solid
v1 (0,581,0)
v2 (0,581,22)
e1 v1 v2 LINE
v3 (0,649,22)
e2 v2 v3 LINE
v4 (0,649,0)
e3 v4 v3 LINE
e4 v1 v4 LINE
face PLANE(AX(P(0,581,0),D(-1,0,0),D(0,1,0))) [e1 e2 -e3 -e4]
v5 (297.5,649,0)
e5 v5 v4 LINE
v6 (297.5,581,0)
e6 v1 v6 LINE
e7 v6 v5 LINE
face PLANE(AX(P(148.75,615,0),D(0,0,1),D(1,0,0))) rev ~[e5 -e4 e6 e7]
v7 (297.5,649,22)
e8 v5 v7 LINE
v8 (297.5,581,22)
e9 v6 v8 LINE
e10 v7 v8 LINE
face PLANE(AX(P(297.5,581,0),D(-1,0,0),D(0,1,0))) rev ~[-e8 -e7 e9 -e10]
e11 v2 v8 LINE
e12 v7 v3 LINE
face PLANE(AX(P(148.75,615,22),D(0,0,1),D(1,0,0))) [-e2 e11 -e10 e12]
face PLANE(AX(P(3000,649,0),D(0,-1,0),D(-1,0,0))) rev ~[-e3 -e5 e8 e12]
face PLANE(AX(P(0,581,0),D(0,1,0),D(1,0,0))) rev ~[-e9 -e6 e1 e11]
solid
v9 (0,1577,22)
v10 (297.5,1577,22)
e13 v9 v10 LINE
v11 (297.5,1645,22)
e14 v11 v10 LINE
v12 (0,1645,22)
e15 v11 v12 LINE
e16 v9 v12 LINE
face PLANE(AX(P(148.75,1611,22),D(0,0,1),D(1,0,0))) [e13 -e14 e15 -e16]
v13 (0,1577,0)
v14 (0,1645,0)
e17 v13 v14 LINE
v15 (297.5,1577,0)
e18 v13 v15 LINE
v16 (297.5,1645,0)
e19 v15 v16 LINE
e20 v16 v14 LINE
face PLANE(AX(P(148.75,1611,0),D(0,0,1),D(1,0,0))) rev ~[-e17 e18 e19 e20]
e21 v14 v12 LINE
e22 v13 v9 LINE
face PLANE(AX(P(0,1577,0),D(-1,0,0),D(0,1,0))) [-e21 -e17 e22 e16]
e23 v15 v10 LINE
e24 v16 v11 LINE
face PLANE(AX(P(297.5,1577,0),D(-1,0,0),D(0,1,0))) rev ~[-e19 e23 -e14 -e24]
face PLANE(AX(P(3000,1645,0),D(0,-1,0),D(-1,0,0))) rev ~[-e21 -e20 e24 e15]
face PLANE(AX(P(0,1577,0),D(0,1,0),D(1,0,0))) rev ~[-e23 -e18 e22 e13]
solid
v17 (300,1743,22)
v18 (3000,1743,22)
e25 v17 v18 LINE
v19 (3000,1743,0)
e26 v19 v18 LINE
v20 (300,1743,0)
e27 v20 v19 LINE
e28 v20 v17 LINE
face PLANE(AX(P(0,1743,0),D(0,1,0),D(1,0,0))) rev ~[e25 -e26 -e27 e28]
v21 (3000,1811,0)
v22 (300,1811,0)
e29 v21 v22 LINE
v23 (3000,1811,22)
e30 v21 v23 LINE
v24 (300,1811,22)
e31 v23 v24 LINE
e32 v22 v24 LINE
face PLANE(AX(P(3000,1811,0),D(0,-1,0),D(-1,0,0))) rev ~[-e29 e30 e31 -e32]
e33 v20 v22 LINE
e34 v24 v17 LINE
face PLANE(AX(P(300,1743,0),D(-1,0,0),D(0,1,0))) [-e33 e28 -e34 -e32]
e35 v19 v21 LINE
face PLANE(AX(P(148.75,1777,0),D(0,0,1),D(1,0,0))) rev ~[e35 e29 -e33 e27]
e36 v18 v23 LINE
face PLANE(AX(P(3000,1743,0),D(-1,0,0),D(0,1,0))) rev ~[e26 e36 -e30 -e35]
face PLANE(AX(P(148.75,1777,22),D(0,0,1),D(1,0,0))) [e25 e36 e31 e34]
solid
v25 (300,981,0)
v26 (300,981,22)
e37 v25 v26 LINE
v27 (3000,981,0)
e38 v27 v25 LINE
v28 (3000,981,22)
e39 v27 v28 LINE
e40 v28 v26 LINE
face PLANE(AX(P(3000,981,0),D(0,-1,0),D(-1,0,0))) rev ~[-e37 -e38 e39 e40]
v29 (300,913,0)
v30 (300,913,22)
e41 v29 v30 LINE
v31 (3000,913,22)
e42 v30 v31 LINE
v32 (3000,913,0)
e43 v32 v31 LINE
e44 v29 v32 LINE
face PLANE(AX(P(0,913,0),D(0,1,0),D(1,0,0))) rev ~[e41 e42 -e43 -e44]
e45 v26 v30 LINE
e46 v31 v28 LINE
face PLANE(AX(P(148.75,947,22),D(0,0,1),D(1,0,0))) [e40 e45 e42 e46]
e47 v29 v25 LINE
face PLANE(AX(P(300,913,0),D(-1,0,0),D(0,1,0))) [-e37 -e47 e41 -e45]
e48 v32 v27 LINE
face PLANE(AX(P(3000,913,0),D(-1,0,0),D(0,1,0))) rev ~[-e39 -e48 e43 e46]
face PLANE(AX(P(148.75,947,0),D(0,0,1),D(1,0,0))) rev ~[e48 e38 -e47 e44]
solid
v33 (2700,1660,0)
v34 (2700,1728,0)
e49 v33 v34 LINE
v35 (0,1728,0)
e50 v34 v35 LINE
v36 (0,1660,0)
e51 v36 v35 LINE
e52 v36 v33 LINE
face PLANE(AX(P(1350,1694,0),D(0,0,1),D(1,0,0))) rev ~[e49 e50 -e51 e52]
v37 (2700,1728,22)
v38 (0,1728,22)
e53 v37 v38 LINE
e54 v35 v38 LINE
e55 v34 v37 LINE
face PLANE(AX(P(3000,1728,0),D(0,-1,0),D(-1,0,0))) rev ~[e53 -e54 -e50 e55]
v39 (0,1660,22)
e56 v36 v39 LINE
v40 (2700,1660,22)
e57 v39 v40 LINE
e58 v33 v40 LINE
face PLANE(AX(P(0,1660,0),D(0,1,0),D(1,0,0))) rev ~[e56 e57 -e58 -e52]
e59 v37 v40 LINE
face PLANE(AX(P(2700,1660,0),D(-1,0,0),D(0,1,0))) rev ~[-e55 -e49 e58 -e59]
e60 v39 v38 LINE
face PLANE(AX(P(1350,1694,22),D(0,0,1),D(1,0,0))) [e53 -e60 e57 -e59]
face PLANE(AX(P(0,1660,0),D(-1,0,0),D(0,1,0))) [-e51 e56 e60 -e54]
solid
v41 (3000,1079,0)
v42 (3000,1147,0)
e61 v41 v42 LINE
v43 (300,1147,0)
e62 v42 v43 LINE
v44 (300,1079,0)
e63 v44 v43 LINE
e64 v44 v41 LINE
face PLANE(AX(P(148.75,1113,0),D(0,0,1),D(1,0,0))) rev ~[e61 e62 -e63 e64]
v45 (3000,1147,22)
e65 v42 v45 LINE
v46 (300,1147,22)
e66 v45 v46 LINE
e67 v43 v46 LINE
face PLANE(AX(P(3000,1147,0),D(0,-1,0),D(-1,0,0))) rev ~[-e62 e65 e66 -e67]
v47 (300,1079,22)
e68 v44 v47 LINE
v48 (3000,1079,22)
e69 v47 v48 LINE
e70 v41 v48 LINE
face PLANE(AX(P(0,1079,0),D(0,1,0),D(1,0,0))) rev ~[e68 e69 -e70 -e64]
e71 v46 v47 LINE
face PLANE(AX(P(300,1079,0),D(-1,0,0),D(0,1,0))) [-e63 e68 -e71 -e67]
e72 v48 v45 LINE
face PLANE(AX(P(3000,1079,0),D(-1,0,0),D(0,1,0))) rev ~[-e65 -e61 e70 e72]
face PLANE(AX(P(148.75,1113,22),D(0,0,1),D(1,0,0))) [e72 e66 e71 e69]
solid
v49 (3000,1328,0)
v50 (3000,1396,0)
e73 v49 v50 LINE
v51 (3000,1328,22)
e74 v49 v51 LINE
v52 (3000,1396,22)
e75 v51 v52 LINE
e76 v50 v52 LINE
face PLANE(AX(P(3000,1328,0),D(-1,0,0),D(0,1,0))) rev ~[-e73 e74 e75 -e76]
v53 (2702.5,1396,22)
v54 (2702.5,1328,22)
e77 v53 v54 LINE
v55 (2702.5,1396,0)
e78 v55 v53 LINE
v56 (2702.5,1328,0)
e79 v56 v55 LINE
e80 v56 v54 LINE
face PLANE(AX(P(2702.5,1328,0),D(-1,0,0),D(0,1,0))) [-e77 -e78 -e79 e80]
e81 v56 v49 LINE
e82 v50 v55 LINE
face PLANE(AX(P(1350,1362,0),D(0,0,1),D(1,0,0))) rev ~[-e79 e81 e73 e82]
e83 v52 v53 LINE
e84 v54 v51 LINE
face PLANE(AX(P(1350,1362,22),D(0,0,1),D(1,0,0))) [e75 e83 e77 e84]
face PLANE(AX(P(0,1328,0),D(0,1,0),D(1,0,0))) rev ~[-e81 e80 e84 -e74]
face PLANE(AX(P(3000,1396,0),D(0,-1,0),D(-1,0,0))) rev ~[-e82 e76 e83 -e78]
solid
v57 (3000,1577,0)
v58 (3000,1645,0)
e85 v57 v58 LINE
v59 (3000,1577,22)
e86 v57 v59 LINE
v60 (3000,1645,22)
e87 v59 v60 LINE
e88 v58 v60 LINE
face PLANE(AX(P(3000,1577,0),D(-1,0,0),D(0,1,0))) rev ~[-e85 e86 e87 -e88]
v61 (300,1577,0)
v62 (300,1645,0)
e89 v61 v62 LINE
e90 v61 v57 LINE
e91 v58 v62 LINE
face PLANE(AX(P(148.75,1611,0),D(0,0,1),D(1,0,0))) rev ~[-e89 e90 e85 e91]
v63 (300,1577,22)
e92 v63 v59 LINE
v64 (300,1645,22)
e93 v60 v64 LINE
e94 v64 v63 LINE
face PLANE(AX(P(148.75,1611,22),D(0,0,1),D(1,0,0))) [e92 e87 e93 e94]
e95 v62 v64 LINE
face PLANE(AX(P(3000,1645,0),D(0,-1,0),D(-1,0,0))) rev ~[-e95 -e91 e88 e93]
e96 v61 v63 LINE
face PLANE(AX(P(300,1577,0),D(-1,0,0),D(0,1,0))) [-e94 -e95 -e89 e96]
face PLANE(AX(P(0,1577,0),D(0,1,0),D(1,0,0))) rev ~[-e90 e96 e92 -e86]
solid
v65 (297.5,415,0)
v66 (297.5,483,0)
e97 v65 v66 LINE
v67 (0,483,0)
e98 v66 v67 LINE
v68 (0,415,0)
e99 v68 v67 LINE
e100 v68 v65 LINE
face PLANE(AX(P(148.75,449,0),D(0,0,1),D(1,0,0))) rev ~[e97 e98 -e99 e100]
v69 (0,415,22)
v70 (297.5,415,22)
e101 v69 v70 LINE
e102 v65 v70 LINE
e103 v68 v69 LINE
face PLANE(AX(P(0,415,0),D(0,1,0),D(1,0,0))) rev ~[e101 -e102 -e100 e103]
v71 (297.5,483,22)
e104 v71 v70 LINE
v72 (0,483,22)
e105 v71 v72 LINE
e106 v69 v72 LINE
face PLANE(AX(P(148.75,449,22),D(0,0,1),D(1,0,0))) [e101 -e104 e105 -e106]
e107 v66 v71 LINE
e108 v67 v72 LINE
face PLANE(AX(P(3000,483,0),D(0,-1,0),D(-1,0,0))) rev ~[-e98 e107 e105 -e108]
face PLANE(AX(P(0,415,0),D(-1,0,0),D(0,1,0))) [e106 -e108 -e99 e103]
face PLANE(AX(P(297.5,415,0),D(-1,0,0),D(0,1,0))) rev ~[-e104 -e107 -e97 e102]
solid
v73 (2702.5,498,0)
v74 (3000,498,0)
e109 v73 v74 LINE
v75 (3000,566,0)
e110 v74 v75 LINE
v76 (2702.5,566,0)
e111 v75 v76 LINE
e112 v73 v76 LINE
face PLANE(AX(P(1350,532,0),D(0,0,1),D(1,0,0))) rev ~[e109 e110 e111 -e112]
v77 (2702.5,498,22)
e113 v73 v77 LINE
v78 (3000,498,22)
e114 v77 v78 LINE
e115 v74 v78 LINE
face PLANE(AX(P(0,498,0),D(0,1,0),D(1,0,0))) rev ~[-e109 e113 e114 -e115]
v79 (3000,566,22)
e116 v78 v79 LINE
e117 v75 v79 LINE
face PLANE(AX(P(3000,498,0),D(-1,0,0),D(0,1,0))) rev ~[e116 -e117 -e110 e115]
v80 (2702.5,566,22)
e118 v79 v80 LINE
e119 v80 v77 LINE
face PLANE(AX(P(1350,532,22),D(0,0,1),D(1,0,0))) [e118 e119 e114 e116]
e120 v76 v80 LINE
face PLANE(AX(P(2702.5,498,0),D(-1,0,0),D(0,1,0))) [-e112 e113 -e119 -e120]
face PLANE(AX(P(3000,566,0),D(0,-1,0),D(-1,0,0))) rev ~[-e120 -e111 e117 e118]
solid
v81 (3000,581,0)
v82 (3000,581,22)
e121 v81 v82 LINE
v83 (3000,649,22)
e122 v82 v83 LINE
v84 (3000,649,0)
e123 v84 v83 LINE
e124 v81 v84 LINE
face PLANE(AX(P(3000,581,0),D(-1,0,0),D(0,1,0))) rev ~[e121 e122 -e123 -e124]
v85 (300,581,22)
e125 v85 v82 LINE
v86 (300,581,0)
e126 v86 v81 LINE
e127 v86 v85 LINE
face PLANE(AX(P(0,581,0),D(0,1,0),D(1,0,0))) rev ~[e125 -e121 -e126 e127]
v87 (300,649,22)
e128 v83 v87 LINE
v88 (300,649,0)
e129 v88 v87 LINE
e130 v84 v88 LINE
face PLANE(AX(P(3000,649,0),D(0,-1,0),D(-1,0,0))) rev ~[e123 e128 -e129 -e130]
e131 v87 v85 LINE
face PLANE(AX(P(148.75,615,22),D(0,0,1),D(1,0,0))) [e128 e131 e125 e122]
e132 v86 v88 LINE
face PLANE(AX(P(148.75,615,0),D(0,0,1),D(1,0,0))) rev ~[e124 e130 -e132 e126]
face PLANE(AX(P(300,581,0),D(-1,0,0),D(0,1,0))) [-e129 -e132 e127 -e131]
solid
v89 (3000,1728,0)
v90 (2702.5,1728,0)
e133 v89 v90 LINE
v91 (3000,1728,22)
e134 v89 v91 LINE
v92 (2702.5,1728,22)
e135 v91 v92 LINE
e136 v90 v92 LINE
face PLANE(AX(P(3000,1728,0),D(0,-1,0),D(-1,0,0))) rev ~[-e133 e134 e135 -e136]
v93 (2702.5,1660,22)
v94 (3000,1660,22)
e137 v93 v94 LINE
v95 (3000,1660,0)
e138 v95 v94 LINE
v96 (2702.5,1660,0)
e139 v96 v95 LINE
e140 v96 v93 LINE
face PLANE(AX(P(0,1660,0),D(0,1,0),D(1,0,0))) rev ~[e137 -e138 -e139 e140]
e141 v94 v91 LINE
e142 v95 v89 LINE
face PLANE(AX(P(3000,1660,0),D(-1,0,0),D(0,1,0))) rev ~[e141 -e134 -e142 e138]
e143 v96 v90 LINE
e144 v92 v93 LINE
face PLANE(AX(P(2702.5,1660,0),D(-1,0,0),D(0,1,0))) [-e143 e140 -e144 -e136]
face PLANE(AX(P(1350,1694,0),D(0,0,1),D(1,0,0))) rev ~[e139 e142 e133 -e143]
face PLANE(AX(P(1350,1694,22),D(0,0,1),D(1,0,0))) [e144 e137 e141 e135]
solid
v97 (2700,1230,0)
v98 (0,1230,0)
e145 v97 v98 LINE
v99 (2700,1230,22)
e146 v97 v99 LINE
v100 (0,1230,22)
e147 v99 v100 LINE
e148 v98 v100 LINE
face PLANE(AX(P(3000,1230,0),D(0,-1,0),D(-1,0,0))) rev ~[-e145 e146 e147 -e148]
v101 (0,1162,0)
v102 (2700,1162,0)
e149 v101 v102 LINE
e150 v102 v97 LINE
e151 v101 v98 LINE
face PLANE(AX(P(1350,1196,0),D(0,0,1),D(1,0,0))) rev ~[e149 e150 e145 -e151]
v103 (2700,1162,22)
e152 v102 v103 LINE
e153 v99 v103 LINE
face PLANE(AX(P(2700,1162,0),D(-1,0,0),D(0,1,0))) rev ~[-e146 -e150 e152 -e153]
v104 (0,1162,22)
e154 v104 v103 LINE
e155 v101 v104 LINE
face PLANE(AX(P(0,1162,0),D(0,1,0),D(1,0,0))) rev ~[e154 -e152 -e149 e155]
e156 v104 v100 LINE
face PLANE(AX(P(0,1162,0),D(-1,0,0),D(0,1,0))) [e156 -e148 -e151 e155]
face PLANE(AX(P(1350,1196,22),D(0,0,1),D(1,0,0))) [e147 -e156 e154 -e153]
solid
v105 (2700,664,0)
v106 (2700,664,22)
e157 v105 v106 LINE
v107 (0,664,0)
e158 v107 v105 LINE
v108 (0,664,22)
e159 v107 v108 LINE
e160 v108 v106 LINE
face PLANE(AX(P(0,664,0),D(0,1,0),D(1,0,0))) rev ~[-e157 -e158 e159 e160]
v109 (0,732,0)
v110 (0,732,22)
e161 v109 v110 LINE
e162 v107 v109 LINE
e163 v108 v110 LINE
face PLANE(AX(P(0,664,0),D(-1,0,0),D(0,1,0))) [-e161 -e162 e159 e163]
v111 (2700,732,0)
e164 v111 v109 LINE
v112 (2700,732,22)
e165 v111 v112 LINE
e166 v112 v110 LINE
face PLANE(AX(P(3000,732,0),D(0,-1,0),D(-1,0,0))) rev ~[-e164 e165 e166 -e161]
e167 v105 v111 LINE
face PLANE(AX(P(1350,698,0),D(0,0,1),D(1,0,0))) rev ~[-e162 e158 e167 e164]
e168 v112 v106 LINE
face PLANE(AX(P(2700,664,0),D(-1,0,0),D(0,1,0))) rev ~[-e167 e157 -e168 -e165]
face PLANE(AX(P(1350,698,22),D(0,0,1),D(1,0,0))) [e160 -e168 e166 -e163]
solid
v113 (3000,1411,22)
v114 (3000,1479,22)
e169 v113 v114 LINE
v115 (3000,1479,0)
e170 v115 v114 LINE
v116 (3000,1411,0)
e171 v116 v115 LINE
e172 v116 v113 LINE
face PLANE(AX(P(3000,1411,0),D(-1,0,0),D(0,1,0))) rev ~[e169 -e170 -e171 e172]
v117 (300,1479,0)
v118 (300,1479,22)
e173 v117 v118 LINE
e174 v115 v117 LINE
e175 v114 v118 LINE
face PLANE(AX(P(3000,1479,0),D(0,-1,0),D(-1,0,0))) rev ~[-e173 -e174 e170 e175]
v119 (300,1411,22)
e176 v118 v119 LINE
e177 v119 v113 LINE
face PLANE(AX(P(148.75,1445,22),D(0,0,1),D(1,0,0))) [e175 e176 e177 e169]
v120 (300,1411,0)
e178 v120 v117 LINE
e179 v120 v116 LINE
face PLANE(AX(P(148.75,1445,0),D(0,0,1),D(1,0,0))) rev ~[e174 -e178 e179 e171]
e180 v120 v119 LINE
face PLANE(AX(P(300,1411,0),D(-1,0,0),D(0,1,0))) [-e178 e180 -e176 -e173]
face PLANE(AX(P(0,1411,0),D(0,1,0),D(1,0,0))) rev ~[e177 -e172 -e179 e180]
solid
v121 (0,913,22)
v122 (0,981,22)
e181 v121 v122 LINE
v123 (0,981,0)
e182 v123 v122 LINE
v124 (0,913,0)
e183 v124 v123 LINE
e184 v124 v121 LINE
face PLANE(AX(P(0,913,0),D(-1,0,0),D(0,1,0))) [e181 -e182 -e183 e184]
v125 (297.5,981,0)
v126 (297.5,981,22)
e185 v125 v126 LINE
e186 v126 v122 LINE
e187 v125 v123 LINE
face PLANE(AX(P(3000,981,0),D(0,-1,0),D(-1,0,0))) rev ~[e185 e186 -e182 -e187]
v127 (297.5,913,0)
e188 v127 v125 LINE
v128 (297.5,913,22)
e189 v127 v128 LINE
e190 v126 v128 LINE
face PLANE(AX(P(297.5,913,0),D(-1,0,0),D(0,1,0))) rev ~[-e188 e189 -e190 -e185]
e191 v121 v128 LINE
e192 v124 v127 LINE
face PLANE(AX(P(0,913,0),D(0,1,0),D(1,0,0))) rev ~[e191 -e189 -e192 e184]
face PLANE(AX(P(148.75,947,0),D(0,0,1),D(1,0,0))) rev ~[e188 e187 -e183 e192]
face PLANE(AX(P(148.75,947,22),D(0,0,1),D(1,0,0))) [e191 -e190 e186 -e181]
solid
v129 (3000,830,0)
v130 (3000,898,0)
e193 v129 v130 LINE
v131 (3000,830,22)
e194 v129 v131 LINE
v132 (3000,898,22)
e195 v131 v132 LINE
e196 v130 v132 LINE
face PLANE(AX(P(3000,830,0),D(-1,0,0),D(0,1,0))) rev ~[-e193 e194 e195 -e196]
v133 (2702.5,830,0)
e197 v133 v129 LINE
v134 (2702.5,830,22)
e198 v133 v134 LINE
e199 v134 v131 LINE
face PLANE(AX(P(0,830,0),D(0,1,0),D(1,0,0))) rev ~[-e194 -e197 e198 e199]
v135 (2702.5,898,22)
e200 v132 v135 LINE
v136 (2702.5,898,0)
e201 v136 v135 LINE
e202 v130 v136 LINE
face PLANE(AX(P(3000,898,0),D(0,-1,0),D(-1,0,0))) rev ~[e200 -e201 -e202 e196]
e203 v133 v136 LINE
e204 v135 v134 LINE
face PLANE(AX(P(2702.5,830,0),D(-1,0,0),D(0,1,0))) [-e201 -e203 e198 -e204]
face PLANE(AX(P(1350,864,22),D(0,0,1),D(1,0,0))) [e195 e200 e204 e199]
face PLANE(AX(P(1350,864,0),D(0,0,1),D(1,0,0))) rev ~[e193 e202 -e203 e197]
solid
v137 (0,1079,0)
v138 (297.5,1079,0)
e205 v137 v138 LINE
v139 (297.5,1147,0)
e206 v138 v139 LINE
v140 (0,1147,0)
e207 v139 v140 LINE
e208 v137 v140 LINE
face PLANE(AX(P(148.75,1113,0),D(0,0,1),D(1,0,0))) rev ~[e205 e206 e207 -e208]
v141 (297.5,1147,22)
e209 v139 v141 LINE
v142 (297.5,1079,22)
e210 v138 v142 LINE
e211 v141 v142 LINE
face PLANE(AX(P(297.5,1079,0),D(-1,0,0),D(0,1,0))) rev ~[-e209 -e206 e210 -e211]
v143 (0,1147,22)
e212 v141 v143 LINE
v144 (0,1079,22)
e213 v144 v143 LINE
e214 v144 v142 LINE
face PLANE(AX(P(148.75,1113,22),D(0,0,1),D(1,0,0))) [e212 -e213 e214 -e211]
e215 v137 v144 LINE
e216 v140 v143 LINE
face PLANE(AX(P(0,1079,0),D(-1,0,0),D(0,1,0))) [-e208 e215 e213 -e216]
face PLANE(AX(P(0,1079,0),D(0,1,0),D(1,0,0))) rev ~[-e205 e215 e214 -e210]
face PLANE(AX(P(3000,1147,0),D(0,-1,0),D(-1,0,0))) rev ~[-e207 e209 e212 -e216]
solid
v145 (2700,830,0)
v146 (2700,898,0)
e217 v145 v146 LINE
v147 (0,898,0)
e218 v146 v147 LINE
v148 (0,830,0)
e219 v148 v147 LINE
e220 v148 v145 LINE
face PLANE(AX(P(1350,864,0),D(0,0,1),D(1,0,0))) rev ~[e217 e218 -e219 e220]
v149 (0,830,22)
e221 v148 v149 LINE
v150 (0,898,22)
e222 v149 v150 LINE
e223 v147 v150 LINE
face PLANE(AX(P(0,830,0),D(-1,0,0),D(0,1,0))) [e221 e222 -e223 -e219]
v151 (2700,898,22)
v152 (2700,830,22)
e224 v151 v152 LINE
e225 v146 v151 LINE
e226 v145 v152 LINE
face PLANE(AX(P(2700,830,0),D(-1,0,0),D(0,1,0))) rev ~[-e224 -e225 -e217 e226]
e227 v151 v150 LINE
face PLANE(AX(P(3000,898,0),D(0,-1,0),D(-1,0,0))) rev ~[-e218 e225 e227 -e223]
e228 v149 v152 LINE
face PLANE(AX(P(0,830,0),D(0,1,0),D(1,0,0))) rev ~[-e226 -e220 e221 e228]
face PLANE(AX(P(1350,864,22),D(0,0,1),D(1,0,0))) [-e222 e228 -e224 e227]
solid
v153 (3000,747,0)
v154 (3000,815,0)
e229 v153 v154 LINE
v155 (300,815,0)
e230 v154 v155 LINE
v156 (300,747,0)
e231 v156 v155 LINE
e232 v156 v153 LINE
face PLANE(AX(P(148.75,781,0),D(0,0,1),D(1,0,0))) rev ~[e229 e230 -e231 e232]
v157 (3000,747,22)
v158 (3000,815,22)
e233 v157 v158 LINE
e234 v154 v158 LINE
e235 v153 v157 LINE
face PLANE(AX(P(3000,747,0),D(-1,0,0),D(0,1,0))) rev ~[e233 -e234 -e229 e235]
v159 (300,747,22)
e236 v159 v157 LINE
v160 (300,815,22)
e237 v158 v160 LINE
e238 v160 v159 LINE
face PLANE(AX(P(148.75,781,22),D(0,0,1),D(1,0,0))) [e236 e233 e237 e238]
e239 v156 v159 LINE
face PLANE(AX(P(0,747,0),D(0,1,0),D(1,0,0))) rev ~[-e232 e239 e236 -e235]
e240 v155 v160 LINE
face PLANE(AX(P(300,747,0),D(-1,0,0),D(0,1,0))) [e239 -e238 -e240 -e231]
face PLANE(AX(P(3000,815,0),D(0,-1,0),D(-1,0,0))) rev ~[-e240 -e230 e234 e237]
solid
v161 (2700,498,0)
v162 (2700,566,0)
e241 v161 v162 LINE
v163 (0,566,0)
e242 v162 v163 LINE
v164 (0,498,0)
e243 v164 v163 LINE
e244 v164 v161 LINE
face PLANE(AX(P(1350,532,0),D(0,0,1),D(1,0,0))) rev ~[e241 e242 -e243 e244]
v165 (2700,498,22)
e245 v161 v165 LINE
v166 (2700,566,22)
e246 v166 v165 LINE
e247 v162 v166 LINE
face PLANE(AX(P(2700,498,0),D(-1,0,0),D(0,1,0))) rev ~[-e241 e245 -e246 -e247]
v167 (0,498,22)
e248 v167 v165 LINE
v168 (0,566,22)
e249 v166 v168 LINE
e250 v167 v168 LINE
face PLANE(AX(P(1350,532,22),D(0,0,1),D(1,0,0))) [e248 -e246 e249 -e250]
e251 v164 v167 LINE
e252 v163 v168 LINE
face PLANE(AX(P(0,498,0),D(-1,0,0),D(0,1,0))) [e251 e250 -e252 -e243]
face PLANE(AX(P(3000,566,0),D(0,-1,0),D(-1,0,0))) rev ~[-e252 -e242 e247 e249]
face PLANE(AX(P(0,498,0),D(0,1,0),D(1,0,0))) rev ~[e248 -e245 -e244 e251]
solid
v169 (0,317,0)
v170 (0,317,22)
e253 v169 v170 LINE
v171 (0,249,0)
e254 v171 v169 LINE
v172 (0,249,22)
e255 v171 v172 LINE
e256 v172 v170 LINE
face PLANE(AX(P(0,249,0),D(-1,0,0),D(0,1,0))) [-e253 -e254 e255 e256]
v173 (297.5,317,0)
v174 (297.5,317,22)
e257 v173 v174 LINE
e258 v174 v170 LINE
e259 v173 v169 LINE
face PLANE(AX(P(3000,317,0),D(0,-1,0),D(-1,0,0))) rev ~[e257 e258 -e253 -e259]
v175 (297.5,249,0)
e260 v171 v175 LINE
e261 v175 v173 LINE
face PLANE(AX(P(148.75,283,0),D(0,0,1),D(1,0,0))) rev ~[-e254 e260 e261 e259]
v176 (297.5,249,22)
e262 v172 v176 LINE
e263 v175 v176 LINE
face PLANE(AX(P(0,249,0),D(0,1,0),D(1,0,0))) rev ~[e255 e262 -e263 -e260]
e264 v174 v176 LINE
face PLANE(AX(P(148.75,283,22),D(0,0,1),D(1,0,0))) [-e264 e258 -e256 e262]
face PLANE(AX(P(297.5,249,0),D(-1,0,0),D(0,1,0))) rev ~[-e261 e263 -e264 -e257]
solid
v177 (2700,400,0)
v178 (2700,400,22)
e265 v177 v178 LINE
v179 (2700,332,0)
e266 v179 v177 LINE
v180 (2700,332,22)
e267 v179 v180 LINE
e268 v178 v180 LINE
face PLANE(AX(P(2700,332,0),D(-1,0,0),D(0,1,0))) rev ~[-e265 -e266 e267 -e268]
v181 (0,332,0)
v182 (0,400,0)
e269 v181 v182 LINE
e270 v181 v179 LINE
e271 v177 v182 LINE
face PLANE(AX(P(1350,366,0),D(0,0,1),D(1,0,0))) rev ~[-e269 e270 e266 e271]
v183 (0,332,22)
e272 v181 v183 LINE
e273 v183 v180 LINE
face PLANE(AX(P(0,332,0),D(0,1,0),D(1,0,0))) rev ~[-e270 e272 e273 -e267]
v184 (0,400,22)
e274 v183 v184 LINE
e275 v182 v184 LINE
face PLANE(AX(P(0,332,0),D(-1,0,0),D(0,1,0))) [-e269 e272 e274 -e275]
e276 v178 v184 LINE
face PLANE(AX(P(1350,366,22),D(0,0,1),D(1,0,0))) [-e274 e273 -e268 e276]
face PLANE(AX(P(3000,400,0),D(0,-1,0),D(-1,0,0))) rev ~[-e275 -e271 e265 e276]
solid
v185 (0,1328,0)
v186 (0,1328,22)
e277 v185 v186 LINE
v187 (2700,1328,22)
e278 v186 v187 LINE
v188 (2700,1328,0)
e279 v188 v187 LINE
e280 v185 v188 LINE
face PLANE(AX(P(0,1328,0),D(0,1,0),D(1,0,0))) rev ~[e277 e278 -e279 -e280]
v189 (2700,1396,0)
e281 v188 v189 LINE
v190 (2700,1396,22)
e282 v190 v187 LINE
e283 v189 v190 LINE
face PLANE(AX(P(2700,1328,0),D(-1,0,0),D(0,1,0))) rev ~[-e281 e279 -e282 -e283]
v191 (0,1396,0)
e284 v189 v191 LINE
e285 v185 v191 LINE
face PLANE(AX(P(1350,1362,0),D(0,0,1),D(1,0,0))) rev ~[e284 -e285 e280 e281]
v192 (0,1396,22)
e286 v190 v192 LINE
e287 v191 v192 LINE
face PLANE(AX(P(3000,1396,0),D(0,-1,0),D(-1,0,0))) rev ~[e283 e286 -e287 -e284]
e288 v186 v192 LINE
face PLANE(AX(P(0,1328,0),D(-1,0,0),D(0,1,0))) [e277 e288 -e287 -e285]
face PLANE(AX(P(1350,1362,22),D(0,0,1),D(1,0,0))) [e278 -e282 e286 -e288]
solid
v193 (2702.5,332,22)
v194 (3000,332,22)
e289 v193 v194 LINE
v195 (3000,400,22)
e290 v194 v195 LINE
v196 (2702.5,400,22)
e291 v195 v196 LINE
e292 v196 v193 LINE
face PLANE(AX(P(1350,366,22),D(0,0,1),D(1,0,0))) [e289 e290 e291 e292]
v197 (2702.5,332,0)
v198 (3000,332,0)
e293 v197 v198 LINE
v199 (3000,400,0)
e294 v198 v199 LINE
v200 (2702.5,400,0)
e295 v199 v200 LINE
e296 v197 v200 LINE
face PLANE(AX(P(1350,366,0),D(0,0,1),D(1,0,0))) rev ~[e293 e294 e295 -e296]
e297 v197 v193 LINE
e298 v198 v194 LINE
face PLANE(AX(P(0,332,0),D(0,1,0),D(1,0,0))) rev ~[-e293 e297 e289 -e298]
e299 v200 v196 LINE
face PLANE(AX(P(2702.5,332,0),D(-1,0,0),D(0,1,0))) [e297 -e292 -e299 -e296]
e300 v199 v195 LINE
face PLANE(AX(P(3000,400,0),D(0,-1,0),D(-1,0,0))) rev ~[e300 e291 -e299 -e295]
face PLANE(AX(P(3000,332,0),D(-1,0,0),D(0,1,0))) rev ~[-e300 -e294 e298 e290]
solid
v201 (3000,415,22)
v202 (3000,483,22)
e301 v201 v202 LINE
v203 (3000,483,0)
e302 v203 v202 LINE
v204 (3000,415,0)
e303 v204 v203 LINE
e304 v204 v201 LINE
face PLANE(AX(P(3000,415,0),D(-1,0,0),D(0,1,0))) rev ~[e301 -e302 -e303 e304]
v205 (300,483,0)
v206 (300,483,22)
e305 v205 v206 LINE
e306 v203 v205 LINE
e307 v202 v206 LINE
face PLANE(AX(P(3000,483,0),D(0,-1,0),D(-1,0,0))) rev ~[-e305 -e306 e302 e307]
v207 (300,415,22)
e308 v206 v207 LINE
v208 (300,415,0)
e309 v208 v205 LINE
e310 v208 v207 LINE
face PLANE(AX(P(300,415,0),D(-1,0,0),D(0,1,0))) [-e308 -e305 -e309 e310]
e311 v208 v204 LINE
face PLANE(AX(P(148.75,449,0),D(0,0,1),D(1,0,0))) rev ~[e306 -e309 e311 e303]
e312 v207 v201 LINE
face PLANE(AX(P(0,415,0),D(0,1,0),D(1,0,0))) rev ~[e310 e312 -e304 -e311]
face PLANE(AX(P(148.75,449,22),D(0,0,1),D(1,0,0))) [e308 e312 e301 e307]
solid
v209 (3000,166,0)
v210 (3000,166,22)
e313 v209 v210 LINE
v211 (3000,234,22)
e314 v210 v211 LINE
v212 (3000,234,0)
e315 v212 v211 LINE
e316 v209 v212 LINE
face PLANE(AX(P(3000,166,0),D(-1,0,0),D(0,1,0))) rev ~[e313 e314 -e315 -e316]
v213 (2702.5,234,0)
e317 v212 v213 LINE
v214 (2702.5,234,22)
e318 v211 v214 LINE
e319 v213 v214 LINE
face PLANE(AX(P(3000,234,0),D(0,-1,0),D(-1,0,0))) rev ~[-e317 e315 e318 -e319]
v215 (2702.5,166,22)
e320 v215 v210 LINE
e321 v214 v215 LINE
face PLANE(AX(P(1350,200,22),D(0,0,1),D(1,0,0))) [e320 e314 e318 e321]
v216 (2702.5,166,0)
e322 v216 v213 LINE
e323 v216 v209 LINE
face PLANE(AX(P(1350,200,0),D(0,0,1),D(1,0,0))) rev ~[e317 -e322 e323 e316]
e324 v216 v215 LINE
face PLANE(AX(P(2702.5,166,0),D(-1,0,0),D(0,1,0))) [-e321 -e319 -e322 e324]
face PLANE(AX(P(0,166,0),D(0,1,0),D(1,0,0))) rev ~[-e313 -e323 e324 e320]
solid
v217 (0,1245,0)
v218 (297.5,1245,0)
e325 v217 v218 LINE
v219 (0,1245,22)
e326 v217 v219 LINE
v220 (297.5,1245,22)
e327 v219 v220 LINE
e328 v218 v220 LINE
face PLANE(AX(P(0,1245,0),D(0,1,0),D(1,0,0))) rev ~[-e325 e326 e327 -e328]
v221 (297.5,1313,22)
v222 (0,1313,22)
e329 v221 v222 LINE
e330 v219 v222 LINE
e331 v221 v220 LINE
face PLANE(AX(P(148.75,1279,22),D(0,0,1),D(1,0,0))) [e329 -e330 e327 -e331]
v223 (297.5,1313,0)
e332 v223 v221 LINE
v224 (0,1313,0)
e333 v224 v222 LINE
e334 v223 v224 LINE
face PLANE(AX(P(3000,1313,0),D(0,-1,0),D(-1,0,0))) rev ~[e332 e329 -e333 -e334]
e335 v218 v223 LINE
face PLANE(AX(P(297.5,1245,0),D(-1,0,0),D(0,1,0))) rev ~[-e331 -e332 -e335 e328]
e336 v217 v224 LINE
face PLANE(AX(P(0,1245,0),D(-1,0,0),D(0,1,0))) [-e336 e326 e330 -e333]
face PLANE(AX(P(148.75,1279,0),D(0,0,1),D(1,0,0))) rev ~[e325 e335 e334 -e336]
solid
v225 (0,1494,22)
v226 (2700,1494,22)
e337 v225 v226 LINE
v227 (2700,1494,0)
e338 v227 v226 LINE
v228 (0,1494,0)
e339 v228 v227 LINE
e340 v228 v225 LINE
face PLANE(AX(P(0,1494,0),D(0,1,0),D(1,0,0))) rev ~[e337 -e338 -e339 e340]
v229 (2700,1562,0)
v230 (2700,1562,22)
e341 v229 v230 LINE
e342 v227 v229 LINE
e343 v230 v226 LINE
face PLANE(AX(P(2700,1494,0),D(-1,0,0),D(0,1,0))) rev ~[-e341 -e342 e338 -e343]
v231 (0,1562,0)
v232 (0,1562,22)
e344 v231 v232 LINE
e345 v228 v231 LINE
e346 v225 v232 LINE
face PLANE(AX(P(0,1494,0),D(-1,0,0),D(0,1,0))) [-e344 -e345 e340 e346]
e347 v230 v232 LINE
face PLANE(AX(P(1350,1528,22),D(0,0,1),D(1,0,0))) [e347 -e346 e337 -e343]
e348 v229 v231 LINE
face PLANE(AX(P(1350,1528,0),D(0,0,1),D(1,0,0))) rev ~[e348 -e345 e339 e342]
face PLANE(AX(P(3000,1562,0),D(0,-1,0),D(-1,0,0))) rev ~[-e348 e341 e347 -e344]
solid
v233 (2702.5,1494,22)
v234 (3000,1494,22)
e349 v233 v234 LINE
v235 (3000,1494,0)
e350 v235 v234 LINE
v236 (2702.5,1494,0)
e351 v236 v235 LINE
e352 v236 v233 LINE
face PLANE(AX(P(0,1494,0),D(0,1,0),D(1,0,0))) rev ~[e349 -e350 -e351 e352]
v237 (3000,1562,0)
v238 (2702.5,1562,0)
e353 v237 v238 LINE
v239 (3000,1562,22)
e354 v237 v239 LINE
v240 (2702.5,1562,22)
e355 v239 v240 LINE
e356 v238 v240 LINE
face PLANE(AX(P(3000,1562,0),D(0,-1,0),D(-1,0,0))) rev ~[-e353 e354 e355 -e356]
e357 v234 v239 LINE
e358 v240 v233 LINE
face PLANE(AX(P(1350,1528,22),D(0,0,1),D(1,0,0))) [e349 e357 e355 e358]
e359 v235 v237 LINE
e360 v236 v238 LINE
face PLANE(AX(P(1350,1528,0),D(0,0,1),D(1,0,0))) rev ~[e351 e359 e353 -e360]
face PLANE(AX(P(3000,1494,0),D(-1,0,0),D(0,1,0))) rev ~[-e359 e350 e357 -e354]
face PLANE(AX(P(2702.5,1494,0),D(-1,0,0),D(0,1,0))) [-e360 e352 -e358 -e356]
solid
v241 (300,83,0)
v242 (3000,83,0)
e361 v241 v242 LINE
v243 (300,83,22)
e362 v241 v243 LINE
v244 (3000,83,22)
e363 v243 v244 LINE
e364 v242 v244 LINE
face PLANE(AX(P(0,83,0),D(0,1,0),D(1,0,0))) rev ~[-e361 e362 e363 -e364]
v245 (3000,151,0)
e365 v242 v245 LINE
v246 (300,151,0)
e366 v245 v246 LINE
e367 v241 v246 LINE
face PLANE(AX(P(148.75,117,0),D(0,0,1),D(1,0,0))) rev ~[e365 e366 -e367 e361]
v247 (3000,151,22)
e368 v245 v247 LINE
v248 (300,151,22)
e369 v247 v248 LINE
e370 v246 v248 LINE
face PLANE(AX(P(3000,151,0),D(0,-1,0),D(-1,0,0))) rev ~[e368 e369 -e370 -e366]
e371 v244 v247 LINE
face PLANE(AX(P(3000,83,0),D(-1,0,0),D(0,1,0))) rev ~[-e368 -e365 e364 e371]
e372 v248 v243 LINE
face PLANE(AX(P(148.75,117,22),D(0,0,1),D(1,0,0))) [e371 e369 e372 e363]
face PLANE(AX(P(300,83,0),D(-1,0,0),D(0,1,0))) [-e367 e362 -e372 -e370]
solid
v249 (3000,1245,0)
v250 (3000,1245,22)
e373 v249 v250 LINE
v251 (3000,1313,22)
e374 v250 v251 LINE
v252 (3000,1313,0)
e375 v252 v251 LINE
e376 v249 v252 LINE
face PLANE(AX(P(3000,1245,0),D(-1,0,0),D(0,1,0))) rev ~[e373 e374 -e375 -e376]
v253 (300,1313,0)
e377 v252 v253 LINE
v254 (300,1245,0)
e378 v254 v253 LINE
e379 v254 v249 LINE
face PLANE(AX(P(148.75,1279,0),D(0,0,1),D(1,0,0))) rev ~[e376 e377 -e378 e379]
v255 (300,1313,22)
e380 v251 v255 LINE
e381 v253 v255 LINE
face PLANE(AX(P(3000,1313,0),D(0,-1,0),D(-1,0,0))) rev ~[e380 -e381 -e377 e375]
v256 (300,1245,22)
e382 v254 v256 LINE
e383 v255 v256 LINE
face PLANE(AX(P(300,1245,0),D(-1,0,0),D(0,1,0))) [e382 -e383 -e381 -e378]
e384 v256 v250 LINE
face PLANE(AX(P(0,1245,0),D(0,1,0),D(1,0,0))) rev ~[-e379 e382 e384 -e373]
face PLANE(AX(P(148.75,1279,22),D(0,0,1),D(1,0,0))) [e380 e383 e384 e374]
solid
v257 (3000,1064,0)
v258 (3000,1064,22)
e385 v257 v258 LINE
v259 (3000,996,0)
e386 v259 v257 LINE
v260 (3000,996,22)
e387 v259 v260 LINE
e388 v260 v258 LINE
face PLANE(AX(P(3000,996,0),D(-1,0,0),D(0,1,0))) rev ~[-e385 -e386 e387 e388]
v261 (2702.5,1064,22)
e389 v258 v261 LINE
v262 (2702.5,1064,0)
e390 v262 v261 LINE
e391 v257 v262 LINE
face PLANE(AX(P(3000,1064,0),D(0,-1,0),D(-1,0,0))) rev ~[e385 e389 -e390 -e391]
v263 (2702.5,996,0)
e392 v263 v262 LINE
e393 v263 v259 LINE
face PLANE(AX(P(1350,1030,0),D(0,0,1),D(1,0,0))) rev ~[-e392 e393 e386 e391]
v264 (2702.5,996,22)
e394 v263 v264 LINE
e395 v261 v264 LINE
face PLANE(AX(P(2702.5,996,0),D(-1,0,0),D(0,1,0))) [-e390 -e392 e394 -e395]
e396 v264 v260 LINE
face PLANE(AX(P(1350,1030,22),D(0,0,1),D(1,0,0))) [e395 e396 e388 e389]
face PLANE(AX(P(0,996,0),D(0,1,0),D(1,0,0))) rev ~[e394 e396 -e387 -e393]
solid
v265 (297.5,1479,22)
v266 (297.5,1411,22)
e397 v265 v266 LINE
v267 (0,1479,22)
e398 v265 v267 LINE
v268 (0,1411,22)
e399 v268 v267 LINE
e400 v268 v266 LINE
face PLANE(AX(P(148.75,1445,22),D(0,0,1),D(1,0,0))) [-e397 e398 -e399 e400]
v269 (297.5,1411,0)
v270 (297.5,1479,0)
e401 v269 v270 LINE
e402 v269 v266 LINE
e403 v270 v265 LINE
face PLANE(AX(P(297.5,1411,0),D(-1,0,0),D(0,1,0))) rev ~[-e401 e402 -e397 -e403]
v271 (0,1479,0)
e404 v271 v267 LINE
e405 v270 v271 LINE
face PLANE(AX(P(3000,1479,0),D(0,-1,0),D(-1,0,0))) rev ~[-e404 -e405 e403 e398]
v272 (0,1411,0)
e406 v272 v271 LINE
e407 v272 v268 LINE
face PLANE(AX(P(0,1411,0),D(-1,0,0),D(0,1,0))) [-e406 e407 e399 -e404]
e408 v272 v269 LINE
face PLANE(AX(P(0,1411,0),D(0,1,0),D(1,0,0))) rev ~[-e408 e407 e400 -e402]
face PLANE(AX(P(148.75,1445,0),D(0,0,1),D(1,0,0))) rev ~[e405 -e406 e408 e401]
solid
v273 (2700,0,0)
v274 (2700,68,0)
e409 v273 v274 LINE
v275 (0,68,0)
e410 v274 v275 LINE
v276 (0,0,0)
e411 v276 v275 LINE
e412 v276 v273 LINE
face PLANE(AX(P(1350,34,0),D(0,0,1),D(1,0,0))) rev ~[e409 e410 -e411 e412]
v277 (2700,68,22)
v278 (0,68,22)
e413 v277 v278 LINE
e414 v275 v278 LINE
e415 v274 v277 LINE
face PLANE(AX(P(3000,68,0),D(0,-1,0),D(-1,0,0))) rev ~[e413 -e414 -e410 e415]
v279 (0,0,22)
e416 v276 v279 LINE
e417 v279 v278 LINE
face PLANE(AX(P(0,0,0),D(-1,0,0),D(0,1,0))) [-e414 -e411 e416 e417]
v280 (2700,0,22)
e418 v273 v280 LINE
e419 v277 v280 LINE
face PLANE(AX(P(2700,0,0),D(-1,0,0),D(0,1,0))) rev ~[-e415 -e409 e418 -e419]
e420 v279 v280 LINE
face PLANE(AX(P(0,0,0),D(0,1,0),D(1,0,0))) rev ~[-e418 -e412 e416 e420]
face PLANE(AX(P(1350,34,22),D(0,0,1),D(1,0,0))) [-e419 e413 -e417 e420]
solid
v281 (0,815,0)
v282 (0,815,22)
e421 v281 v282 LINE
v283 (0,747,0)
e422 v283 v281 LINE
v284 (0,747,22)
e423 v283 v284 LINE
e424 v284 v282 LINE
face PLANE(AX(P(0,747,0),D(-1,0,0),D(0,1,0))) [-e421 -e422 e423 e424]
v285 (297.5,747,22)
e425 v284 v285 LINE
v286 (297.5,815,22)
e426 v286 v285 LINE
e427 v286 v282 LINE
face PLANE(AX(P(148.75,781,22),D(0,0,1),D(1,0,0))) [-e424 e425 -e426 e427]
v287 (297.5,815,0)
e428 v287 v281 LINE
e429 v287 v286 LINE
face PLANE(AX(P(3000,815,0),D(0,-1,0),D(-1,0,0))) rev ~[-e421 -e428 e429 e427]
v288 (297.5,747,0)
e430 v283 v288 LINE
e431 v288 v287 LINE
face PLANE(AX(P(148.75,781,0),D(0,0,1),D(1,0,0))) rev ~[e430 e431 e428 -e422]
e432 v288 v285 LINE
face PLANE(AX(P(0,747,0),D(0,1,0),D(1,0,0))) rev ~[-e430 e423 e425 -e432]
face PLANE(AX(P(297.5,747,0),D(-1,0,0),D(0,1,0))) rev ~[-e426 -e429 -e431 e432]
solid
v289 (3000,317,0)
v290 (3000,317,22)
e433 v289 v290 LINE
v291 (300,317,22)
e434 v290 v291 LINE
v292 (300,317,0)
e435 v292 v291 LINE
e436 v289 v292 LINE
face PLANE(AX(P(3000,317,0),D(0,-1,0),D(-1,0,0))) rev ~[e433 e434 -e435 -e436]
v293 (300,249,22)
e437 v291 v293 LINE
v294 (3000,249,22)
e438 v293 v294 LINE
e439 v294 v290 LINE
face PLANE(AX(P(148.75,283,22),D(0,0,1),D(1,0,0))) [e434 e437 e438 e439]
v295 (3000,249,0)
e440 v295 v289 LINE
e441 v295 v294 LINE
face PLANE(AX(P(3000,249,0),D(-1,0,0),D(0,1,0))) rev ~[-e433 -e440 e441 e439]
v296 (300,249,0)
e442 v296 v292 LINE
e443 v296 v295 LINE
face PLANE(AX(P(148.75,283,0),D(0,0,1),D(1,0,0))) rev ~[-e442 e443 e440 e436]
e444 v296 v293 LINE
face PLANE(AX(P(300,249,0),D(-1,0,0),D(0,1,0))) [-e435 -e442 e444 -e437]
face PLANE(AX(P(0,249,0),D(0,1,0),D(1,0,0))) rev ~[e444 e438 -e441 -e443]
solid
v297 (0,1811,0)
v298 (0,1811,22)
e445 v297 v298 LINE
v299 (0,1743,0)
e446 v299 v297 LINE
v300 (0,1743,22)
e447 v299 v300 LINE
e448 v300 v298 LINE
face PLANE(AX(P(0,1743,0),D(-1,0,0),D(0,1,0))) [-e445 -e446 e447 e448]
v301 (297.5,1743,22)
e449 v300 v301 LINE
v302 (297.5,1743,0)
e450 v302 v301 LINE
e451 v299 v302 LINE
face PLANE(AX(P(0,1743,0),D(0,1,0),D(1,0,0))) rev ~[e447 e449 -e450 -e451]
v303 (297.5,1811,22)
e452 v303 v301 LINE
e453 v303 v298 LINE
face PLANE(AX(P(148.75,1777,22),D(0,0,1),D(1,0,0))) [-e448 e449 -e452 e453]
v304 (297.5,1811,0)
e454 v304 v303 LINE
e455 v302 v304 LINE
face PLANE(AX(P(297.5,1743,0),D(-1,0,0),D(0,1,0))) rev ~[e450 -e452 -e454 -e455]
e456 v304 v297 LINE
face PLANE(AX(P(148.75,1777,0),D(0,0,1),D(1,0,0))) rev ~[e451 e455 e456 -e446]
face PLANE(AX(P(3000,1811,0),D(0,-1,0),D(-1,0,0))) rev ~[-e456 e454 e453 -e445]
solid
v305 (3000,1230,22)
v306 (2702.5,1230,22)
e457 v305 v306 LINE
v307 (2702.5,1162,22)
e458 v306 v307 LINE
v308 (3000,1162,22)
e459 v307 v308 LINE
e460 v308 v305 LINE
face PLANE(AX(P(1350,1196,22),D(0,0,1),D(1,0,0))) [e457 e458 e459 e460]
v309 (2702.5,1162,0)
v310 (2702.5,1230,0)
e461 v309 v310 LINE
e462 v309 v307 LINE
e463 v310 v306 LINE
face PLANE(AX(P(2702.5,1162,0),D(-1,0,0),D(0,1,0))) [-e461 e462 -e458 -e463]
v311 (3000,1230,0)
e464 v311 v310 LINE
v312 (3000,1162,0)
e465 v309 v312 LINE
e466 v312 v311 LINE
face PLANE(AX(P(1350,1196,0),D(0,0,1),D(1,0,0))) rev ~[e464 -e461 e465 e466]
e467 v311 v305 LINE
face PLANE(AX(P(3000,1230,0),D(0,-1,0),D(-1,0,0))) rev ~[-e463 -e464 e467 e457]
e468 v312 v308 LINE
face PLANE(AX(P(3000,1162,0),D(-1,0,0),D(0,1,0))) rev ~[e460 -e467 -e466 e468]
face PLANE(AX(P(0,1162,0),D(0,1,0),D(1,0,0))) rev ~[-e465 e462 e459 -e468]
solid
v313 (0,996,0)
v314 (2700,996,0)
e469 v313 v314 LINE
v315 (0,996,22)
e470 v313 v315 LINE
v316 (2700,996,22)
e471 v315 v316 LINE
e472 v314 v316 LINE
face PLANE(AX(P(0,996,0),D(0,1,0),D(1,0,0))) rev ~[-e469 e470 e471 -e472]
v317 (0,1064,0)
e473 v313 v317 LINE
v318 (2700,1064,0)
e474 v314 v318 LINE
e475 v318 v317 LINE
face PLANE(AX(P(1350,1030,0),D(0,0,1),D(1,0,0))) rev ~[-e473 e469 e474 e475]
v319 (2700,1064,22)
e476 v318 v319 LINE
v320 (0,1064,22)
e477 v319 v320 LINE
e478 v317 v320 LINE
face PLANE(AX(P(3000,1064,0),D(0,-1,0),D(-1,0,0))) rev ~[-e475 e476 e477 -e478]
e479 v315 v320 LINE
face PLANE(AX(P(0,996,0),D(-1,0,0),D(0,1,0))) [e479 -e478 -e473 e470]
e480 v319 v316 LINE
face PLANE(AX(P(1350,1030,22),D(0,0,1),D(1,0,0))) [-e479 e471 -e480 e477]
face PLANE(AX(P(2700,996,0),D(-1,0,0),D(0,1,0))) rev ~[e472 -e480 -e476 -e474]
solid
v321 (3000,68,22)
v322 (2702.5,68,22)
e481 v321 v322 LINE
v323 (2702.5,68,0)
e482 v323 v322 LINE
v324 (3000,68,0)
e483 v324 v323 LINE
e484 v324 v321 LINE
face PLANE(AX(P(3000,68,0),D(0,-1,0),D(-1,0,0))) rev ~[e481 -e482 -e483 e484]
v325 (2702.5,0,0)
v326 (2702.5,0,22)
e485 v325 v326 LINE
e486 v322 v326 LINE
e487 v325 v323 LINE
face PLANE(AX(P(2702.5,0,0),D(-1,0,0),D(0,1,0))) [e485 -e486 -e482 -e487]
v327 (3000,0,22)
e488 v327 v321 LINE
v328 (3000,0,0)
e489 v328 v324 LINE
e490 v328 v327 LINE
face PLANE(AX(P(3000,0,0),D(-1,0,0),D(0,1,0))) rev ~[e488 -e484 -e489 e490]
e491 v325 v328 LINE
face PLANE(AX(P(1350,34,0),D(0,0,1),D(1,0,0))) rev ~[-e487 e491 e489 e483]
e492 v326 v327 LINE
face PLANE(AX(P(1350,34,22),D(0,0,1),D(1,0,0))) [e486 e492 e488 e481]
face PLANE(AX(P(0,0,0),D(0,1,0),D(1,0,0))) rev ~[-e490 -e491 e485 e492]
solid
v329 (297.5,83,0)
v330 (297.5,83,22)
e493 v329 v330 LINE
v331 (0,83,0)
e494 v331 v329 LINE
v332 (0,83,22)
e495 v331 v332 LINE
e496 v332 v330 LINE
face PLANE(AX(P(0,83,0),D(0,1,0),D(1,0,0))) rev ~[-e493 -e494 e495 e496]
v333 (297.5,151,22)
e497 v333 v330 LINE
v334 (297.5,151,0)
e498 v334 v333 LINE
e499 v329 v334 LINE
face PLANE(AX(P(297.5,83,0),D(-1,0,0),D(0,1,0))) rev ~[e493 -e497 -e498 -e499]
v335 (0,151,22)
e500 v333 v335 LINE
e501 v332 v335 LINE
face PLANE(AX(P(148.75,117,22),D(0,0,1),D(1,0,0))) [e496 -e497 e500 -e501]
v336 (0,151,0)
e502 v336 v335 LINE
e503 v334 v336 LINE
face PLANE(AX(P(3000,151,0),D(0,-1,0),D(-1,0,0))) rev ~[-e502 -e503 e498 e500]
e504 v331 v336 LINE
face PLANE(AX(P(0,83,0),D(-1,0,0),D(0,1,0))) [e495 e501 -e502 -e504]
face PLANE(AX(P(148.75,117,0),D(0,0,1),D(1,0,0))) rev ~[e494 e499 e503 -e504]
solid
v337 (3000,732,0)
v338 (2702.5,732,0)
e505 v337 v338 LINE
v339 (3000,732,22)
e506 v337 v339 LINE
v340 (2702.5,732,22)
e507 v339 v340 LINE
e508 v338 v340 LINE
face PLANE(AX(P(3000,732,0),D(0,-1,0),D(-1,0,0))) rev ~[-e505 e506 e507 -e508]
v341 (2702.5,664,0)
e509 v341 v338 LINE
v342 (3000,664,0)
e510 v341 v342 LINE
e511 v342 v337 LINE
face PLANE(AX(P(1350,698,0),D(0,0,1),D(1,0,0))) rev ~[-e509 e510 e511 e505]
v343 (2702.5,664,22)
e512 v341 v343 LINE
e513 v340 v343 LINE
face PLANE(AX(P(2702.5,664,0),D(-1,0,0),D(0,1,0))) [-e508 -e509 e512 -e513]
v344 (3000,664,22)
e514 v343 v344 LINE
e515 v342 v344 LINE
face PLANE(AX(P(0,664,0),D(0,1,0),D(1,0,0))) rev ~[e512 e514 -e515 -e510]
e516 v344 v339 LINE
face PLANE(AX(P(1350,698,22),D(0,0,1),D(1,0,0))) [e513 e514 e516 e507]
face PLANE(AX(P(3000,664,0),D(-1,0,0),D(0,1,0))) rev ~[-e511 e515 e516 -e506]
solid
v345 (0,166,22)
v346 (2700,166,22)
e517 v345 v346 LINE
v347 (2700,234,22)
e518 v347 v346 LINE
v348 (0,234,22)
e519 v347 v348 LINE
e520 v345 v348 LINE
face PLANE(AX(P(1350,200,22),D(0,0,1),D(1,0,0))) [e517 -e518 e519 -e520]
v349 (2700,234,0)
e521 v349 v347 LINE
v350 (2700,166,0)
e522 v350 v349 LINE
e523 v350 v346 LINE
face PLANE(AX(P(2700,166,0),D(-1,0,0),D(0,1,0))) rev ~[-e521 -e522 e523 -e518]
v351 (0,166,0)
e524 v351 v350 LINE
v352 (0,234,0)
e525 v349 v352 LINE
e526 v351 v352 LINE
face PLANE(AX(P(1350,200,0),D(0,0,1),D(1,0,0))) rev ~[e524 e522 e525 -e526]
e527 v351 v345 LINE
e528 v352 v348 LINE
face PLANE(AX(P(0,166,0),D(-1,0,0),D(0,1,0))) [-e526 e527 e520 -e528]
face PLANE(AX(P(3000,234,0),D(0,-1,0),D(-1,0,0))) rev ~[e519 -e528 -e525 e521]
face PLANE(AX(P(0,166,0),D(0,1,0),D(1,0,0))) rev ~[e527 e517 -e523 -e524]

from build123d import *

# Parameters (mm, degrees)
F0_W     = 2700
F0_H     = 68
F0_W_2   = 2.5
F0_W_3   = 297.5
F1_DEPTH = 22
F2_DEPTH = 25


with BuildPart() as f1:
    # F0 (on Top) → F1 (new body)
    with BuildSketch(Plane.XY):
        with Locations((1350, 34)):
            Rectangle(F0_W, F0_H)
        with Locations((2701.25, 34)):
            Rectangle(F0_W_2, F0_H)
        with Locations((2851.25, 34)):
            Rectangle(F0_W_3, F0_H)
        with Locations((148.75, 117)):
            Rectangle(F0_W_3, F0_H)
        with Locations((298.75, 117)):
            Rectangle(F0_W_2, F0_H)
        with Locations((1650, 117)):
            Rectangle(F0_W, F0_H)
        with Locations((148.75, 283)):
            Rectangle(F0_W_3, F0_H)
        with Locations((298.75, 283)):
            Rectangle(F0_W_2, F0_H)
        with Locations((1650, 283)):
            Rectangle(F0_W, F0_H)
        with Locations((1350, 200)):
            Rectangle(F0_W, F0_H)
        with Locations((2701.25, 200)):
            Rectangle(F0_W_2, F0_H)
        with Locations((2851.25, 200)):
            Rectangle(F0_W_3, F0_H)
        with Locations((148.75, 449)):
            Rectangle(F0_W_3, F0_H)
        with Locations((298.75, 449)):
            Rectangle(F0_W_2, F0_H)
        with Locations((1650, 449)):
            Rectangle(F0_W, F0_H)
        with Locations((1350, 366)):
            Rectangle(F0_W, F0_H)
        with Locations((2701.25, 366)):
            Rectangle(F0_W_2, F0_H)
        with Locations((2851.25, 366)):
            Rectangle(F0_W_3, F0_H)
        with Locations((148.75, 615)):
            Rectangle(F0_W_3, F0_H)
        with Locations((298.75, 615)):
            Rectangle(F0_W_2, F0_H)
        with Locations((1650, 615)):
            Rectangle(F0_W, F0_H)
        with Locations((1350, 532)):
            Rectangle(F0_W, F0_H)
        with Locations((2701.25, 532)):
            Rectangle(F0_W_2, F0_H)
        with Locations((2851.25, 532)):
            Rectangle(F0_W_3, F0_H)
        with Locations((148.75, 781)):
            Rectangle(F0_W_3, F0_H)
        with Locations((298.75, 781)):
            Rectangle(F0_W_2, F0_H)
        with Locations((1650, 781)):
            Rectangle(F0_W, F0_H)
        with Locations((1350, 698)):
            Rectangle(F0_W, F0_H)
        with Locations((2701.25, 698)):
            Rectangle(F0_W_2, F0_H)
        with Locations((2851.25, 698)):
            Rectangle(F0_W_3, F0_H)
        with Locations((148.75, 947)):
            Rectangle(F0_W_3, F0_H)
        with Locations((298.75, 947)):
            Rectangle(F0_W_2, F0_H)
        with Locations((1650, 947)):
            Rectangle(F0_W, F0_H)
        with Locations((1350, 864)):
            Rectangle(F0_W, F0_H)
        with Locations((2701.25, 864)):
            Rectangle(F0_W_2, F0_H)
        with Locations((2851.25, 864)):
            Rectangle(F0_W_3, F0_H)
        with Locations((148.75, 1113)):
            Rectangle(F0_W_3, F0_H)
        with Locations((298.75, 1113)):
            Rectangle(F0_W_2, F0_H)
        with Locations((1650, 1113)):
            Rectangle(F0_W, F0_H)
        with Locations((1350, 1030)):
            Rectangle(F0_W, F0_H)
        with Locations((2701.25, 1030)):
            Rectangle(F0_W_2, F0_H)
        with Locations((2851.25, 1030)):
            Rectangle(F0_W_3, F0_H)
        with Locations((148.75, 1279)):
            Rectangle(F0_W_3, F0_H)
        with Locations((298.75, 1279)):
            Rectangle(F0_W_2, F0_H)
        with Locations((1650, 1279)):
            Rectangle(F0_W, F0_H)
        with Locations((1350, 1196)):
            Rectangle(F0_W, F0_H)
        with Locations((2701.25, 1196)):
            Rectangle(F0_W_2, F0_H)
        with Locations((2851.25, 1196)):
            Rectangle(F0_W_3, F0_H)
        with Locations((148.75, 1445)):
            Rectangle(F0_W_3, F0_H)
        with Locations((298.75, 1445)):
            Rectangle(F0_W_2, F0_H)
        with Locations((1650, 1445)):
            Rectangle(F0_W, F0_H)
        with Locations((1350, 1362)):
            Rectangle(F0_W, F0_H)
        with Locations((2701.25, 1362)):
            Rectangle(F0_W_2, F0_H)
        with Locations((2851.25, 1362)):
            Rectangle(F0_W_3, F0_H)
        with Locations((148.75, 1611)):
            Rectangle(F0_W_3, F0_H)
        with Locations((298.75, 1611)):
            Rectangle(F0_W_2, F0_H)
        with Locations((1650, 1611)):
            Rectangle(F0_W, F0_H)
        with Locations((1350, 1528)):
            Rectangle(F0_W, F0_H)
        with Locations((2701.25, 1528)):
            Rectangle(F0_W_2, F0_H)
        with Locations((2851.25, 1528)):
            Rectangle(F0_W_3, F0_H)
        with Locations((148.75, 1777)):
            Rectangle(F0_W_3, F0_H)
        with Locations((298.75, 1777)):
            Rectangle(F0_W_2, F0_H)
        with Locations((1650, 1777)):
            Rectangle(F0_W, F0_H)
        with Locations((1350, 1694)):
            Rectangle(F0_W, F0_H)
        with Locations((2701.25, 1694)):
            Rectangle(F0_W_2, F0_H)
        with Locations((2851.25, 1694)):
            Rectangle(F0_W_3, F0_H)
    extrude(amount=F1_DEPTH)

    # F0 (on Top) → F2 (cut)
    with BuildSketch(Plane.XY):
        with Locations((298.75, 117)):
            Rectangle(F0_W_2, F0_H)
        with Locations((298.75, 283)):
            Rectangle(F0_W_2, F0_H)
        with Locations((298.75, 449)):
            Rectangle(F0_W_2, F0_H)
        with Locations((298.75, 615)):
            Rectangle(F0_W_2, F0_H)
        with Locations((298.75, 781)):
            Rectangle(F0_W_2, F0_H)
        with Locations((298.75, 947)):
            Rectangle(F0_W_2, F0_H)
        with Locations((298.75, 1113)):
            Rectangle(F0_W_2, F0_H)
        with Locations((298.75, 1279)):
            Rectangle(F0_W_2, F0_H)
        with Locations((298.75, 1445)):
            Rectangle(F0_W_2, F0_H)
        with Locations((298.75, 1611)):
            Rectangle(F0_W_2, F0_H)
        with Locations((298.75, 1777)):
            Rectangle(F0_W_2, F0_H)
        with Locations((2701.25, 1694)):
            Rectangle(F0_W_2, F0_H)
        with Locations((2701.25, 1528)):
            Rectangle(F0_W_2, F0_H)
        with Locations((2701.25, 1362)):
            Rectangle(F0_W_2, F0_H)
        with Locations((2701.25, 1196)):
            Rectangle(F0_W_2, F0_H)
        with Locations((2701.25, 1030)):
            Rectangle(F0_W_2, F0_H)
        with Locations((2701.25, 864)):
            Rectangle(F0_W_2, F0_H)
        with Locations((2701.25, 698)):
            Rectangle(F0_W_2, F0_H)
        with Locations((2701.25, 532)):
            Rectangle(F0_W_2, F0_H)
        with Locations((2701.25, 366)):
            Rectangle(F0_W_2, F0_H)
        with Locations((2701.25, 200)):
            Rectangle(F0_W_2, F0_H)
        with Locations((2701.25, 34)):
            Rectangle(F0_W_2, F0_H)
    extrude(amount=F2_DEPTH, mode=Mode.SUBTRACT)


solid = f1.part
